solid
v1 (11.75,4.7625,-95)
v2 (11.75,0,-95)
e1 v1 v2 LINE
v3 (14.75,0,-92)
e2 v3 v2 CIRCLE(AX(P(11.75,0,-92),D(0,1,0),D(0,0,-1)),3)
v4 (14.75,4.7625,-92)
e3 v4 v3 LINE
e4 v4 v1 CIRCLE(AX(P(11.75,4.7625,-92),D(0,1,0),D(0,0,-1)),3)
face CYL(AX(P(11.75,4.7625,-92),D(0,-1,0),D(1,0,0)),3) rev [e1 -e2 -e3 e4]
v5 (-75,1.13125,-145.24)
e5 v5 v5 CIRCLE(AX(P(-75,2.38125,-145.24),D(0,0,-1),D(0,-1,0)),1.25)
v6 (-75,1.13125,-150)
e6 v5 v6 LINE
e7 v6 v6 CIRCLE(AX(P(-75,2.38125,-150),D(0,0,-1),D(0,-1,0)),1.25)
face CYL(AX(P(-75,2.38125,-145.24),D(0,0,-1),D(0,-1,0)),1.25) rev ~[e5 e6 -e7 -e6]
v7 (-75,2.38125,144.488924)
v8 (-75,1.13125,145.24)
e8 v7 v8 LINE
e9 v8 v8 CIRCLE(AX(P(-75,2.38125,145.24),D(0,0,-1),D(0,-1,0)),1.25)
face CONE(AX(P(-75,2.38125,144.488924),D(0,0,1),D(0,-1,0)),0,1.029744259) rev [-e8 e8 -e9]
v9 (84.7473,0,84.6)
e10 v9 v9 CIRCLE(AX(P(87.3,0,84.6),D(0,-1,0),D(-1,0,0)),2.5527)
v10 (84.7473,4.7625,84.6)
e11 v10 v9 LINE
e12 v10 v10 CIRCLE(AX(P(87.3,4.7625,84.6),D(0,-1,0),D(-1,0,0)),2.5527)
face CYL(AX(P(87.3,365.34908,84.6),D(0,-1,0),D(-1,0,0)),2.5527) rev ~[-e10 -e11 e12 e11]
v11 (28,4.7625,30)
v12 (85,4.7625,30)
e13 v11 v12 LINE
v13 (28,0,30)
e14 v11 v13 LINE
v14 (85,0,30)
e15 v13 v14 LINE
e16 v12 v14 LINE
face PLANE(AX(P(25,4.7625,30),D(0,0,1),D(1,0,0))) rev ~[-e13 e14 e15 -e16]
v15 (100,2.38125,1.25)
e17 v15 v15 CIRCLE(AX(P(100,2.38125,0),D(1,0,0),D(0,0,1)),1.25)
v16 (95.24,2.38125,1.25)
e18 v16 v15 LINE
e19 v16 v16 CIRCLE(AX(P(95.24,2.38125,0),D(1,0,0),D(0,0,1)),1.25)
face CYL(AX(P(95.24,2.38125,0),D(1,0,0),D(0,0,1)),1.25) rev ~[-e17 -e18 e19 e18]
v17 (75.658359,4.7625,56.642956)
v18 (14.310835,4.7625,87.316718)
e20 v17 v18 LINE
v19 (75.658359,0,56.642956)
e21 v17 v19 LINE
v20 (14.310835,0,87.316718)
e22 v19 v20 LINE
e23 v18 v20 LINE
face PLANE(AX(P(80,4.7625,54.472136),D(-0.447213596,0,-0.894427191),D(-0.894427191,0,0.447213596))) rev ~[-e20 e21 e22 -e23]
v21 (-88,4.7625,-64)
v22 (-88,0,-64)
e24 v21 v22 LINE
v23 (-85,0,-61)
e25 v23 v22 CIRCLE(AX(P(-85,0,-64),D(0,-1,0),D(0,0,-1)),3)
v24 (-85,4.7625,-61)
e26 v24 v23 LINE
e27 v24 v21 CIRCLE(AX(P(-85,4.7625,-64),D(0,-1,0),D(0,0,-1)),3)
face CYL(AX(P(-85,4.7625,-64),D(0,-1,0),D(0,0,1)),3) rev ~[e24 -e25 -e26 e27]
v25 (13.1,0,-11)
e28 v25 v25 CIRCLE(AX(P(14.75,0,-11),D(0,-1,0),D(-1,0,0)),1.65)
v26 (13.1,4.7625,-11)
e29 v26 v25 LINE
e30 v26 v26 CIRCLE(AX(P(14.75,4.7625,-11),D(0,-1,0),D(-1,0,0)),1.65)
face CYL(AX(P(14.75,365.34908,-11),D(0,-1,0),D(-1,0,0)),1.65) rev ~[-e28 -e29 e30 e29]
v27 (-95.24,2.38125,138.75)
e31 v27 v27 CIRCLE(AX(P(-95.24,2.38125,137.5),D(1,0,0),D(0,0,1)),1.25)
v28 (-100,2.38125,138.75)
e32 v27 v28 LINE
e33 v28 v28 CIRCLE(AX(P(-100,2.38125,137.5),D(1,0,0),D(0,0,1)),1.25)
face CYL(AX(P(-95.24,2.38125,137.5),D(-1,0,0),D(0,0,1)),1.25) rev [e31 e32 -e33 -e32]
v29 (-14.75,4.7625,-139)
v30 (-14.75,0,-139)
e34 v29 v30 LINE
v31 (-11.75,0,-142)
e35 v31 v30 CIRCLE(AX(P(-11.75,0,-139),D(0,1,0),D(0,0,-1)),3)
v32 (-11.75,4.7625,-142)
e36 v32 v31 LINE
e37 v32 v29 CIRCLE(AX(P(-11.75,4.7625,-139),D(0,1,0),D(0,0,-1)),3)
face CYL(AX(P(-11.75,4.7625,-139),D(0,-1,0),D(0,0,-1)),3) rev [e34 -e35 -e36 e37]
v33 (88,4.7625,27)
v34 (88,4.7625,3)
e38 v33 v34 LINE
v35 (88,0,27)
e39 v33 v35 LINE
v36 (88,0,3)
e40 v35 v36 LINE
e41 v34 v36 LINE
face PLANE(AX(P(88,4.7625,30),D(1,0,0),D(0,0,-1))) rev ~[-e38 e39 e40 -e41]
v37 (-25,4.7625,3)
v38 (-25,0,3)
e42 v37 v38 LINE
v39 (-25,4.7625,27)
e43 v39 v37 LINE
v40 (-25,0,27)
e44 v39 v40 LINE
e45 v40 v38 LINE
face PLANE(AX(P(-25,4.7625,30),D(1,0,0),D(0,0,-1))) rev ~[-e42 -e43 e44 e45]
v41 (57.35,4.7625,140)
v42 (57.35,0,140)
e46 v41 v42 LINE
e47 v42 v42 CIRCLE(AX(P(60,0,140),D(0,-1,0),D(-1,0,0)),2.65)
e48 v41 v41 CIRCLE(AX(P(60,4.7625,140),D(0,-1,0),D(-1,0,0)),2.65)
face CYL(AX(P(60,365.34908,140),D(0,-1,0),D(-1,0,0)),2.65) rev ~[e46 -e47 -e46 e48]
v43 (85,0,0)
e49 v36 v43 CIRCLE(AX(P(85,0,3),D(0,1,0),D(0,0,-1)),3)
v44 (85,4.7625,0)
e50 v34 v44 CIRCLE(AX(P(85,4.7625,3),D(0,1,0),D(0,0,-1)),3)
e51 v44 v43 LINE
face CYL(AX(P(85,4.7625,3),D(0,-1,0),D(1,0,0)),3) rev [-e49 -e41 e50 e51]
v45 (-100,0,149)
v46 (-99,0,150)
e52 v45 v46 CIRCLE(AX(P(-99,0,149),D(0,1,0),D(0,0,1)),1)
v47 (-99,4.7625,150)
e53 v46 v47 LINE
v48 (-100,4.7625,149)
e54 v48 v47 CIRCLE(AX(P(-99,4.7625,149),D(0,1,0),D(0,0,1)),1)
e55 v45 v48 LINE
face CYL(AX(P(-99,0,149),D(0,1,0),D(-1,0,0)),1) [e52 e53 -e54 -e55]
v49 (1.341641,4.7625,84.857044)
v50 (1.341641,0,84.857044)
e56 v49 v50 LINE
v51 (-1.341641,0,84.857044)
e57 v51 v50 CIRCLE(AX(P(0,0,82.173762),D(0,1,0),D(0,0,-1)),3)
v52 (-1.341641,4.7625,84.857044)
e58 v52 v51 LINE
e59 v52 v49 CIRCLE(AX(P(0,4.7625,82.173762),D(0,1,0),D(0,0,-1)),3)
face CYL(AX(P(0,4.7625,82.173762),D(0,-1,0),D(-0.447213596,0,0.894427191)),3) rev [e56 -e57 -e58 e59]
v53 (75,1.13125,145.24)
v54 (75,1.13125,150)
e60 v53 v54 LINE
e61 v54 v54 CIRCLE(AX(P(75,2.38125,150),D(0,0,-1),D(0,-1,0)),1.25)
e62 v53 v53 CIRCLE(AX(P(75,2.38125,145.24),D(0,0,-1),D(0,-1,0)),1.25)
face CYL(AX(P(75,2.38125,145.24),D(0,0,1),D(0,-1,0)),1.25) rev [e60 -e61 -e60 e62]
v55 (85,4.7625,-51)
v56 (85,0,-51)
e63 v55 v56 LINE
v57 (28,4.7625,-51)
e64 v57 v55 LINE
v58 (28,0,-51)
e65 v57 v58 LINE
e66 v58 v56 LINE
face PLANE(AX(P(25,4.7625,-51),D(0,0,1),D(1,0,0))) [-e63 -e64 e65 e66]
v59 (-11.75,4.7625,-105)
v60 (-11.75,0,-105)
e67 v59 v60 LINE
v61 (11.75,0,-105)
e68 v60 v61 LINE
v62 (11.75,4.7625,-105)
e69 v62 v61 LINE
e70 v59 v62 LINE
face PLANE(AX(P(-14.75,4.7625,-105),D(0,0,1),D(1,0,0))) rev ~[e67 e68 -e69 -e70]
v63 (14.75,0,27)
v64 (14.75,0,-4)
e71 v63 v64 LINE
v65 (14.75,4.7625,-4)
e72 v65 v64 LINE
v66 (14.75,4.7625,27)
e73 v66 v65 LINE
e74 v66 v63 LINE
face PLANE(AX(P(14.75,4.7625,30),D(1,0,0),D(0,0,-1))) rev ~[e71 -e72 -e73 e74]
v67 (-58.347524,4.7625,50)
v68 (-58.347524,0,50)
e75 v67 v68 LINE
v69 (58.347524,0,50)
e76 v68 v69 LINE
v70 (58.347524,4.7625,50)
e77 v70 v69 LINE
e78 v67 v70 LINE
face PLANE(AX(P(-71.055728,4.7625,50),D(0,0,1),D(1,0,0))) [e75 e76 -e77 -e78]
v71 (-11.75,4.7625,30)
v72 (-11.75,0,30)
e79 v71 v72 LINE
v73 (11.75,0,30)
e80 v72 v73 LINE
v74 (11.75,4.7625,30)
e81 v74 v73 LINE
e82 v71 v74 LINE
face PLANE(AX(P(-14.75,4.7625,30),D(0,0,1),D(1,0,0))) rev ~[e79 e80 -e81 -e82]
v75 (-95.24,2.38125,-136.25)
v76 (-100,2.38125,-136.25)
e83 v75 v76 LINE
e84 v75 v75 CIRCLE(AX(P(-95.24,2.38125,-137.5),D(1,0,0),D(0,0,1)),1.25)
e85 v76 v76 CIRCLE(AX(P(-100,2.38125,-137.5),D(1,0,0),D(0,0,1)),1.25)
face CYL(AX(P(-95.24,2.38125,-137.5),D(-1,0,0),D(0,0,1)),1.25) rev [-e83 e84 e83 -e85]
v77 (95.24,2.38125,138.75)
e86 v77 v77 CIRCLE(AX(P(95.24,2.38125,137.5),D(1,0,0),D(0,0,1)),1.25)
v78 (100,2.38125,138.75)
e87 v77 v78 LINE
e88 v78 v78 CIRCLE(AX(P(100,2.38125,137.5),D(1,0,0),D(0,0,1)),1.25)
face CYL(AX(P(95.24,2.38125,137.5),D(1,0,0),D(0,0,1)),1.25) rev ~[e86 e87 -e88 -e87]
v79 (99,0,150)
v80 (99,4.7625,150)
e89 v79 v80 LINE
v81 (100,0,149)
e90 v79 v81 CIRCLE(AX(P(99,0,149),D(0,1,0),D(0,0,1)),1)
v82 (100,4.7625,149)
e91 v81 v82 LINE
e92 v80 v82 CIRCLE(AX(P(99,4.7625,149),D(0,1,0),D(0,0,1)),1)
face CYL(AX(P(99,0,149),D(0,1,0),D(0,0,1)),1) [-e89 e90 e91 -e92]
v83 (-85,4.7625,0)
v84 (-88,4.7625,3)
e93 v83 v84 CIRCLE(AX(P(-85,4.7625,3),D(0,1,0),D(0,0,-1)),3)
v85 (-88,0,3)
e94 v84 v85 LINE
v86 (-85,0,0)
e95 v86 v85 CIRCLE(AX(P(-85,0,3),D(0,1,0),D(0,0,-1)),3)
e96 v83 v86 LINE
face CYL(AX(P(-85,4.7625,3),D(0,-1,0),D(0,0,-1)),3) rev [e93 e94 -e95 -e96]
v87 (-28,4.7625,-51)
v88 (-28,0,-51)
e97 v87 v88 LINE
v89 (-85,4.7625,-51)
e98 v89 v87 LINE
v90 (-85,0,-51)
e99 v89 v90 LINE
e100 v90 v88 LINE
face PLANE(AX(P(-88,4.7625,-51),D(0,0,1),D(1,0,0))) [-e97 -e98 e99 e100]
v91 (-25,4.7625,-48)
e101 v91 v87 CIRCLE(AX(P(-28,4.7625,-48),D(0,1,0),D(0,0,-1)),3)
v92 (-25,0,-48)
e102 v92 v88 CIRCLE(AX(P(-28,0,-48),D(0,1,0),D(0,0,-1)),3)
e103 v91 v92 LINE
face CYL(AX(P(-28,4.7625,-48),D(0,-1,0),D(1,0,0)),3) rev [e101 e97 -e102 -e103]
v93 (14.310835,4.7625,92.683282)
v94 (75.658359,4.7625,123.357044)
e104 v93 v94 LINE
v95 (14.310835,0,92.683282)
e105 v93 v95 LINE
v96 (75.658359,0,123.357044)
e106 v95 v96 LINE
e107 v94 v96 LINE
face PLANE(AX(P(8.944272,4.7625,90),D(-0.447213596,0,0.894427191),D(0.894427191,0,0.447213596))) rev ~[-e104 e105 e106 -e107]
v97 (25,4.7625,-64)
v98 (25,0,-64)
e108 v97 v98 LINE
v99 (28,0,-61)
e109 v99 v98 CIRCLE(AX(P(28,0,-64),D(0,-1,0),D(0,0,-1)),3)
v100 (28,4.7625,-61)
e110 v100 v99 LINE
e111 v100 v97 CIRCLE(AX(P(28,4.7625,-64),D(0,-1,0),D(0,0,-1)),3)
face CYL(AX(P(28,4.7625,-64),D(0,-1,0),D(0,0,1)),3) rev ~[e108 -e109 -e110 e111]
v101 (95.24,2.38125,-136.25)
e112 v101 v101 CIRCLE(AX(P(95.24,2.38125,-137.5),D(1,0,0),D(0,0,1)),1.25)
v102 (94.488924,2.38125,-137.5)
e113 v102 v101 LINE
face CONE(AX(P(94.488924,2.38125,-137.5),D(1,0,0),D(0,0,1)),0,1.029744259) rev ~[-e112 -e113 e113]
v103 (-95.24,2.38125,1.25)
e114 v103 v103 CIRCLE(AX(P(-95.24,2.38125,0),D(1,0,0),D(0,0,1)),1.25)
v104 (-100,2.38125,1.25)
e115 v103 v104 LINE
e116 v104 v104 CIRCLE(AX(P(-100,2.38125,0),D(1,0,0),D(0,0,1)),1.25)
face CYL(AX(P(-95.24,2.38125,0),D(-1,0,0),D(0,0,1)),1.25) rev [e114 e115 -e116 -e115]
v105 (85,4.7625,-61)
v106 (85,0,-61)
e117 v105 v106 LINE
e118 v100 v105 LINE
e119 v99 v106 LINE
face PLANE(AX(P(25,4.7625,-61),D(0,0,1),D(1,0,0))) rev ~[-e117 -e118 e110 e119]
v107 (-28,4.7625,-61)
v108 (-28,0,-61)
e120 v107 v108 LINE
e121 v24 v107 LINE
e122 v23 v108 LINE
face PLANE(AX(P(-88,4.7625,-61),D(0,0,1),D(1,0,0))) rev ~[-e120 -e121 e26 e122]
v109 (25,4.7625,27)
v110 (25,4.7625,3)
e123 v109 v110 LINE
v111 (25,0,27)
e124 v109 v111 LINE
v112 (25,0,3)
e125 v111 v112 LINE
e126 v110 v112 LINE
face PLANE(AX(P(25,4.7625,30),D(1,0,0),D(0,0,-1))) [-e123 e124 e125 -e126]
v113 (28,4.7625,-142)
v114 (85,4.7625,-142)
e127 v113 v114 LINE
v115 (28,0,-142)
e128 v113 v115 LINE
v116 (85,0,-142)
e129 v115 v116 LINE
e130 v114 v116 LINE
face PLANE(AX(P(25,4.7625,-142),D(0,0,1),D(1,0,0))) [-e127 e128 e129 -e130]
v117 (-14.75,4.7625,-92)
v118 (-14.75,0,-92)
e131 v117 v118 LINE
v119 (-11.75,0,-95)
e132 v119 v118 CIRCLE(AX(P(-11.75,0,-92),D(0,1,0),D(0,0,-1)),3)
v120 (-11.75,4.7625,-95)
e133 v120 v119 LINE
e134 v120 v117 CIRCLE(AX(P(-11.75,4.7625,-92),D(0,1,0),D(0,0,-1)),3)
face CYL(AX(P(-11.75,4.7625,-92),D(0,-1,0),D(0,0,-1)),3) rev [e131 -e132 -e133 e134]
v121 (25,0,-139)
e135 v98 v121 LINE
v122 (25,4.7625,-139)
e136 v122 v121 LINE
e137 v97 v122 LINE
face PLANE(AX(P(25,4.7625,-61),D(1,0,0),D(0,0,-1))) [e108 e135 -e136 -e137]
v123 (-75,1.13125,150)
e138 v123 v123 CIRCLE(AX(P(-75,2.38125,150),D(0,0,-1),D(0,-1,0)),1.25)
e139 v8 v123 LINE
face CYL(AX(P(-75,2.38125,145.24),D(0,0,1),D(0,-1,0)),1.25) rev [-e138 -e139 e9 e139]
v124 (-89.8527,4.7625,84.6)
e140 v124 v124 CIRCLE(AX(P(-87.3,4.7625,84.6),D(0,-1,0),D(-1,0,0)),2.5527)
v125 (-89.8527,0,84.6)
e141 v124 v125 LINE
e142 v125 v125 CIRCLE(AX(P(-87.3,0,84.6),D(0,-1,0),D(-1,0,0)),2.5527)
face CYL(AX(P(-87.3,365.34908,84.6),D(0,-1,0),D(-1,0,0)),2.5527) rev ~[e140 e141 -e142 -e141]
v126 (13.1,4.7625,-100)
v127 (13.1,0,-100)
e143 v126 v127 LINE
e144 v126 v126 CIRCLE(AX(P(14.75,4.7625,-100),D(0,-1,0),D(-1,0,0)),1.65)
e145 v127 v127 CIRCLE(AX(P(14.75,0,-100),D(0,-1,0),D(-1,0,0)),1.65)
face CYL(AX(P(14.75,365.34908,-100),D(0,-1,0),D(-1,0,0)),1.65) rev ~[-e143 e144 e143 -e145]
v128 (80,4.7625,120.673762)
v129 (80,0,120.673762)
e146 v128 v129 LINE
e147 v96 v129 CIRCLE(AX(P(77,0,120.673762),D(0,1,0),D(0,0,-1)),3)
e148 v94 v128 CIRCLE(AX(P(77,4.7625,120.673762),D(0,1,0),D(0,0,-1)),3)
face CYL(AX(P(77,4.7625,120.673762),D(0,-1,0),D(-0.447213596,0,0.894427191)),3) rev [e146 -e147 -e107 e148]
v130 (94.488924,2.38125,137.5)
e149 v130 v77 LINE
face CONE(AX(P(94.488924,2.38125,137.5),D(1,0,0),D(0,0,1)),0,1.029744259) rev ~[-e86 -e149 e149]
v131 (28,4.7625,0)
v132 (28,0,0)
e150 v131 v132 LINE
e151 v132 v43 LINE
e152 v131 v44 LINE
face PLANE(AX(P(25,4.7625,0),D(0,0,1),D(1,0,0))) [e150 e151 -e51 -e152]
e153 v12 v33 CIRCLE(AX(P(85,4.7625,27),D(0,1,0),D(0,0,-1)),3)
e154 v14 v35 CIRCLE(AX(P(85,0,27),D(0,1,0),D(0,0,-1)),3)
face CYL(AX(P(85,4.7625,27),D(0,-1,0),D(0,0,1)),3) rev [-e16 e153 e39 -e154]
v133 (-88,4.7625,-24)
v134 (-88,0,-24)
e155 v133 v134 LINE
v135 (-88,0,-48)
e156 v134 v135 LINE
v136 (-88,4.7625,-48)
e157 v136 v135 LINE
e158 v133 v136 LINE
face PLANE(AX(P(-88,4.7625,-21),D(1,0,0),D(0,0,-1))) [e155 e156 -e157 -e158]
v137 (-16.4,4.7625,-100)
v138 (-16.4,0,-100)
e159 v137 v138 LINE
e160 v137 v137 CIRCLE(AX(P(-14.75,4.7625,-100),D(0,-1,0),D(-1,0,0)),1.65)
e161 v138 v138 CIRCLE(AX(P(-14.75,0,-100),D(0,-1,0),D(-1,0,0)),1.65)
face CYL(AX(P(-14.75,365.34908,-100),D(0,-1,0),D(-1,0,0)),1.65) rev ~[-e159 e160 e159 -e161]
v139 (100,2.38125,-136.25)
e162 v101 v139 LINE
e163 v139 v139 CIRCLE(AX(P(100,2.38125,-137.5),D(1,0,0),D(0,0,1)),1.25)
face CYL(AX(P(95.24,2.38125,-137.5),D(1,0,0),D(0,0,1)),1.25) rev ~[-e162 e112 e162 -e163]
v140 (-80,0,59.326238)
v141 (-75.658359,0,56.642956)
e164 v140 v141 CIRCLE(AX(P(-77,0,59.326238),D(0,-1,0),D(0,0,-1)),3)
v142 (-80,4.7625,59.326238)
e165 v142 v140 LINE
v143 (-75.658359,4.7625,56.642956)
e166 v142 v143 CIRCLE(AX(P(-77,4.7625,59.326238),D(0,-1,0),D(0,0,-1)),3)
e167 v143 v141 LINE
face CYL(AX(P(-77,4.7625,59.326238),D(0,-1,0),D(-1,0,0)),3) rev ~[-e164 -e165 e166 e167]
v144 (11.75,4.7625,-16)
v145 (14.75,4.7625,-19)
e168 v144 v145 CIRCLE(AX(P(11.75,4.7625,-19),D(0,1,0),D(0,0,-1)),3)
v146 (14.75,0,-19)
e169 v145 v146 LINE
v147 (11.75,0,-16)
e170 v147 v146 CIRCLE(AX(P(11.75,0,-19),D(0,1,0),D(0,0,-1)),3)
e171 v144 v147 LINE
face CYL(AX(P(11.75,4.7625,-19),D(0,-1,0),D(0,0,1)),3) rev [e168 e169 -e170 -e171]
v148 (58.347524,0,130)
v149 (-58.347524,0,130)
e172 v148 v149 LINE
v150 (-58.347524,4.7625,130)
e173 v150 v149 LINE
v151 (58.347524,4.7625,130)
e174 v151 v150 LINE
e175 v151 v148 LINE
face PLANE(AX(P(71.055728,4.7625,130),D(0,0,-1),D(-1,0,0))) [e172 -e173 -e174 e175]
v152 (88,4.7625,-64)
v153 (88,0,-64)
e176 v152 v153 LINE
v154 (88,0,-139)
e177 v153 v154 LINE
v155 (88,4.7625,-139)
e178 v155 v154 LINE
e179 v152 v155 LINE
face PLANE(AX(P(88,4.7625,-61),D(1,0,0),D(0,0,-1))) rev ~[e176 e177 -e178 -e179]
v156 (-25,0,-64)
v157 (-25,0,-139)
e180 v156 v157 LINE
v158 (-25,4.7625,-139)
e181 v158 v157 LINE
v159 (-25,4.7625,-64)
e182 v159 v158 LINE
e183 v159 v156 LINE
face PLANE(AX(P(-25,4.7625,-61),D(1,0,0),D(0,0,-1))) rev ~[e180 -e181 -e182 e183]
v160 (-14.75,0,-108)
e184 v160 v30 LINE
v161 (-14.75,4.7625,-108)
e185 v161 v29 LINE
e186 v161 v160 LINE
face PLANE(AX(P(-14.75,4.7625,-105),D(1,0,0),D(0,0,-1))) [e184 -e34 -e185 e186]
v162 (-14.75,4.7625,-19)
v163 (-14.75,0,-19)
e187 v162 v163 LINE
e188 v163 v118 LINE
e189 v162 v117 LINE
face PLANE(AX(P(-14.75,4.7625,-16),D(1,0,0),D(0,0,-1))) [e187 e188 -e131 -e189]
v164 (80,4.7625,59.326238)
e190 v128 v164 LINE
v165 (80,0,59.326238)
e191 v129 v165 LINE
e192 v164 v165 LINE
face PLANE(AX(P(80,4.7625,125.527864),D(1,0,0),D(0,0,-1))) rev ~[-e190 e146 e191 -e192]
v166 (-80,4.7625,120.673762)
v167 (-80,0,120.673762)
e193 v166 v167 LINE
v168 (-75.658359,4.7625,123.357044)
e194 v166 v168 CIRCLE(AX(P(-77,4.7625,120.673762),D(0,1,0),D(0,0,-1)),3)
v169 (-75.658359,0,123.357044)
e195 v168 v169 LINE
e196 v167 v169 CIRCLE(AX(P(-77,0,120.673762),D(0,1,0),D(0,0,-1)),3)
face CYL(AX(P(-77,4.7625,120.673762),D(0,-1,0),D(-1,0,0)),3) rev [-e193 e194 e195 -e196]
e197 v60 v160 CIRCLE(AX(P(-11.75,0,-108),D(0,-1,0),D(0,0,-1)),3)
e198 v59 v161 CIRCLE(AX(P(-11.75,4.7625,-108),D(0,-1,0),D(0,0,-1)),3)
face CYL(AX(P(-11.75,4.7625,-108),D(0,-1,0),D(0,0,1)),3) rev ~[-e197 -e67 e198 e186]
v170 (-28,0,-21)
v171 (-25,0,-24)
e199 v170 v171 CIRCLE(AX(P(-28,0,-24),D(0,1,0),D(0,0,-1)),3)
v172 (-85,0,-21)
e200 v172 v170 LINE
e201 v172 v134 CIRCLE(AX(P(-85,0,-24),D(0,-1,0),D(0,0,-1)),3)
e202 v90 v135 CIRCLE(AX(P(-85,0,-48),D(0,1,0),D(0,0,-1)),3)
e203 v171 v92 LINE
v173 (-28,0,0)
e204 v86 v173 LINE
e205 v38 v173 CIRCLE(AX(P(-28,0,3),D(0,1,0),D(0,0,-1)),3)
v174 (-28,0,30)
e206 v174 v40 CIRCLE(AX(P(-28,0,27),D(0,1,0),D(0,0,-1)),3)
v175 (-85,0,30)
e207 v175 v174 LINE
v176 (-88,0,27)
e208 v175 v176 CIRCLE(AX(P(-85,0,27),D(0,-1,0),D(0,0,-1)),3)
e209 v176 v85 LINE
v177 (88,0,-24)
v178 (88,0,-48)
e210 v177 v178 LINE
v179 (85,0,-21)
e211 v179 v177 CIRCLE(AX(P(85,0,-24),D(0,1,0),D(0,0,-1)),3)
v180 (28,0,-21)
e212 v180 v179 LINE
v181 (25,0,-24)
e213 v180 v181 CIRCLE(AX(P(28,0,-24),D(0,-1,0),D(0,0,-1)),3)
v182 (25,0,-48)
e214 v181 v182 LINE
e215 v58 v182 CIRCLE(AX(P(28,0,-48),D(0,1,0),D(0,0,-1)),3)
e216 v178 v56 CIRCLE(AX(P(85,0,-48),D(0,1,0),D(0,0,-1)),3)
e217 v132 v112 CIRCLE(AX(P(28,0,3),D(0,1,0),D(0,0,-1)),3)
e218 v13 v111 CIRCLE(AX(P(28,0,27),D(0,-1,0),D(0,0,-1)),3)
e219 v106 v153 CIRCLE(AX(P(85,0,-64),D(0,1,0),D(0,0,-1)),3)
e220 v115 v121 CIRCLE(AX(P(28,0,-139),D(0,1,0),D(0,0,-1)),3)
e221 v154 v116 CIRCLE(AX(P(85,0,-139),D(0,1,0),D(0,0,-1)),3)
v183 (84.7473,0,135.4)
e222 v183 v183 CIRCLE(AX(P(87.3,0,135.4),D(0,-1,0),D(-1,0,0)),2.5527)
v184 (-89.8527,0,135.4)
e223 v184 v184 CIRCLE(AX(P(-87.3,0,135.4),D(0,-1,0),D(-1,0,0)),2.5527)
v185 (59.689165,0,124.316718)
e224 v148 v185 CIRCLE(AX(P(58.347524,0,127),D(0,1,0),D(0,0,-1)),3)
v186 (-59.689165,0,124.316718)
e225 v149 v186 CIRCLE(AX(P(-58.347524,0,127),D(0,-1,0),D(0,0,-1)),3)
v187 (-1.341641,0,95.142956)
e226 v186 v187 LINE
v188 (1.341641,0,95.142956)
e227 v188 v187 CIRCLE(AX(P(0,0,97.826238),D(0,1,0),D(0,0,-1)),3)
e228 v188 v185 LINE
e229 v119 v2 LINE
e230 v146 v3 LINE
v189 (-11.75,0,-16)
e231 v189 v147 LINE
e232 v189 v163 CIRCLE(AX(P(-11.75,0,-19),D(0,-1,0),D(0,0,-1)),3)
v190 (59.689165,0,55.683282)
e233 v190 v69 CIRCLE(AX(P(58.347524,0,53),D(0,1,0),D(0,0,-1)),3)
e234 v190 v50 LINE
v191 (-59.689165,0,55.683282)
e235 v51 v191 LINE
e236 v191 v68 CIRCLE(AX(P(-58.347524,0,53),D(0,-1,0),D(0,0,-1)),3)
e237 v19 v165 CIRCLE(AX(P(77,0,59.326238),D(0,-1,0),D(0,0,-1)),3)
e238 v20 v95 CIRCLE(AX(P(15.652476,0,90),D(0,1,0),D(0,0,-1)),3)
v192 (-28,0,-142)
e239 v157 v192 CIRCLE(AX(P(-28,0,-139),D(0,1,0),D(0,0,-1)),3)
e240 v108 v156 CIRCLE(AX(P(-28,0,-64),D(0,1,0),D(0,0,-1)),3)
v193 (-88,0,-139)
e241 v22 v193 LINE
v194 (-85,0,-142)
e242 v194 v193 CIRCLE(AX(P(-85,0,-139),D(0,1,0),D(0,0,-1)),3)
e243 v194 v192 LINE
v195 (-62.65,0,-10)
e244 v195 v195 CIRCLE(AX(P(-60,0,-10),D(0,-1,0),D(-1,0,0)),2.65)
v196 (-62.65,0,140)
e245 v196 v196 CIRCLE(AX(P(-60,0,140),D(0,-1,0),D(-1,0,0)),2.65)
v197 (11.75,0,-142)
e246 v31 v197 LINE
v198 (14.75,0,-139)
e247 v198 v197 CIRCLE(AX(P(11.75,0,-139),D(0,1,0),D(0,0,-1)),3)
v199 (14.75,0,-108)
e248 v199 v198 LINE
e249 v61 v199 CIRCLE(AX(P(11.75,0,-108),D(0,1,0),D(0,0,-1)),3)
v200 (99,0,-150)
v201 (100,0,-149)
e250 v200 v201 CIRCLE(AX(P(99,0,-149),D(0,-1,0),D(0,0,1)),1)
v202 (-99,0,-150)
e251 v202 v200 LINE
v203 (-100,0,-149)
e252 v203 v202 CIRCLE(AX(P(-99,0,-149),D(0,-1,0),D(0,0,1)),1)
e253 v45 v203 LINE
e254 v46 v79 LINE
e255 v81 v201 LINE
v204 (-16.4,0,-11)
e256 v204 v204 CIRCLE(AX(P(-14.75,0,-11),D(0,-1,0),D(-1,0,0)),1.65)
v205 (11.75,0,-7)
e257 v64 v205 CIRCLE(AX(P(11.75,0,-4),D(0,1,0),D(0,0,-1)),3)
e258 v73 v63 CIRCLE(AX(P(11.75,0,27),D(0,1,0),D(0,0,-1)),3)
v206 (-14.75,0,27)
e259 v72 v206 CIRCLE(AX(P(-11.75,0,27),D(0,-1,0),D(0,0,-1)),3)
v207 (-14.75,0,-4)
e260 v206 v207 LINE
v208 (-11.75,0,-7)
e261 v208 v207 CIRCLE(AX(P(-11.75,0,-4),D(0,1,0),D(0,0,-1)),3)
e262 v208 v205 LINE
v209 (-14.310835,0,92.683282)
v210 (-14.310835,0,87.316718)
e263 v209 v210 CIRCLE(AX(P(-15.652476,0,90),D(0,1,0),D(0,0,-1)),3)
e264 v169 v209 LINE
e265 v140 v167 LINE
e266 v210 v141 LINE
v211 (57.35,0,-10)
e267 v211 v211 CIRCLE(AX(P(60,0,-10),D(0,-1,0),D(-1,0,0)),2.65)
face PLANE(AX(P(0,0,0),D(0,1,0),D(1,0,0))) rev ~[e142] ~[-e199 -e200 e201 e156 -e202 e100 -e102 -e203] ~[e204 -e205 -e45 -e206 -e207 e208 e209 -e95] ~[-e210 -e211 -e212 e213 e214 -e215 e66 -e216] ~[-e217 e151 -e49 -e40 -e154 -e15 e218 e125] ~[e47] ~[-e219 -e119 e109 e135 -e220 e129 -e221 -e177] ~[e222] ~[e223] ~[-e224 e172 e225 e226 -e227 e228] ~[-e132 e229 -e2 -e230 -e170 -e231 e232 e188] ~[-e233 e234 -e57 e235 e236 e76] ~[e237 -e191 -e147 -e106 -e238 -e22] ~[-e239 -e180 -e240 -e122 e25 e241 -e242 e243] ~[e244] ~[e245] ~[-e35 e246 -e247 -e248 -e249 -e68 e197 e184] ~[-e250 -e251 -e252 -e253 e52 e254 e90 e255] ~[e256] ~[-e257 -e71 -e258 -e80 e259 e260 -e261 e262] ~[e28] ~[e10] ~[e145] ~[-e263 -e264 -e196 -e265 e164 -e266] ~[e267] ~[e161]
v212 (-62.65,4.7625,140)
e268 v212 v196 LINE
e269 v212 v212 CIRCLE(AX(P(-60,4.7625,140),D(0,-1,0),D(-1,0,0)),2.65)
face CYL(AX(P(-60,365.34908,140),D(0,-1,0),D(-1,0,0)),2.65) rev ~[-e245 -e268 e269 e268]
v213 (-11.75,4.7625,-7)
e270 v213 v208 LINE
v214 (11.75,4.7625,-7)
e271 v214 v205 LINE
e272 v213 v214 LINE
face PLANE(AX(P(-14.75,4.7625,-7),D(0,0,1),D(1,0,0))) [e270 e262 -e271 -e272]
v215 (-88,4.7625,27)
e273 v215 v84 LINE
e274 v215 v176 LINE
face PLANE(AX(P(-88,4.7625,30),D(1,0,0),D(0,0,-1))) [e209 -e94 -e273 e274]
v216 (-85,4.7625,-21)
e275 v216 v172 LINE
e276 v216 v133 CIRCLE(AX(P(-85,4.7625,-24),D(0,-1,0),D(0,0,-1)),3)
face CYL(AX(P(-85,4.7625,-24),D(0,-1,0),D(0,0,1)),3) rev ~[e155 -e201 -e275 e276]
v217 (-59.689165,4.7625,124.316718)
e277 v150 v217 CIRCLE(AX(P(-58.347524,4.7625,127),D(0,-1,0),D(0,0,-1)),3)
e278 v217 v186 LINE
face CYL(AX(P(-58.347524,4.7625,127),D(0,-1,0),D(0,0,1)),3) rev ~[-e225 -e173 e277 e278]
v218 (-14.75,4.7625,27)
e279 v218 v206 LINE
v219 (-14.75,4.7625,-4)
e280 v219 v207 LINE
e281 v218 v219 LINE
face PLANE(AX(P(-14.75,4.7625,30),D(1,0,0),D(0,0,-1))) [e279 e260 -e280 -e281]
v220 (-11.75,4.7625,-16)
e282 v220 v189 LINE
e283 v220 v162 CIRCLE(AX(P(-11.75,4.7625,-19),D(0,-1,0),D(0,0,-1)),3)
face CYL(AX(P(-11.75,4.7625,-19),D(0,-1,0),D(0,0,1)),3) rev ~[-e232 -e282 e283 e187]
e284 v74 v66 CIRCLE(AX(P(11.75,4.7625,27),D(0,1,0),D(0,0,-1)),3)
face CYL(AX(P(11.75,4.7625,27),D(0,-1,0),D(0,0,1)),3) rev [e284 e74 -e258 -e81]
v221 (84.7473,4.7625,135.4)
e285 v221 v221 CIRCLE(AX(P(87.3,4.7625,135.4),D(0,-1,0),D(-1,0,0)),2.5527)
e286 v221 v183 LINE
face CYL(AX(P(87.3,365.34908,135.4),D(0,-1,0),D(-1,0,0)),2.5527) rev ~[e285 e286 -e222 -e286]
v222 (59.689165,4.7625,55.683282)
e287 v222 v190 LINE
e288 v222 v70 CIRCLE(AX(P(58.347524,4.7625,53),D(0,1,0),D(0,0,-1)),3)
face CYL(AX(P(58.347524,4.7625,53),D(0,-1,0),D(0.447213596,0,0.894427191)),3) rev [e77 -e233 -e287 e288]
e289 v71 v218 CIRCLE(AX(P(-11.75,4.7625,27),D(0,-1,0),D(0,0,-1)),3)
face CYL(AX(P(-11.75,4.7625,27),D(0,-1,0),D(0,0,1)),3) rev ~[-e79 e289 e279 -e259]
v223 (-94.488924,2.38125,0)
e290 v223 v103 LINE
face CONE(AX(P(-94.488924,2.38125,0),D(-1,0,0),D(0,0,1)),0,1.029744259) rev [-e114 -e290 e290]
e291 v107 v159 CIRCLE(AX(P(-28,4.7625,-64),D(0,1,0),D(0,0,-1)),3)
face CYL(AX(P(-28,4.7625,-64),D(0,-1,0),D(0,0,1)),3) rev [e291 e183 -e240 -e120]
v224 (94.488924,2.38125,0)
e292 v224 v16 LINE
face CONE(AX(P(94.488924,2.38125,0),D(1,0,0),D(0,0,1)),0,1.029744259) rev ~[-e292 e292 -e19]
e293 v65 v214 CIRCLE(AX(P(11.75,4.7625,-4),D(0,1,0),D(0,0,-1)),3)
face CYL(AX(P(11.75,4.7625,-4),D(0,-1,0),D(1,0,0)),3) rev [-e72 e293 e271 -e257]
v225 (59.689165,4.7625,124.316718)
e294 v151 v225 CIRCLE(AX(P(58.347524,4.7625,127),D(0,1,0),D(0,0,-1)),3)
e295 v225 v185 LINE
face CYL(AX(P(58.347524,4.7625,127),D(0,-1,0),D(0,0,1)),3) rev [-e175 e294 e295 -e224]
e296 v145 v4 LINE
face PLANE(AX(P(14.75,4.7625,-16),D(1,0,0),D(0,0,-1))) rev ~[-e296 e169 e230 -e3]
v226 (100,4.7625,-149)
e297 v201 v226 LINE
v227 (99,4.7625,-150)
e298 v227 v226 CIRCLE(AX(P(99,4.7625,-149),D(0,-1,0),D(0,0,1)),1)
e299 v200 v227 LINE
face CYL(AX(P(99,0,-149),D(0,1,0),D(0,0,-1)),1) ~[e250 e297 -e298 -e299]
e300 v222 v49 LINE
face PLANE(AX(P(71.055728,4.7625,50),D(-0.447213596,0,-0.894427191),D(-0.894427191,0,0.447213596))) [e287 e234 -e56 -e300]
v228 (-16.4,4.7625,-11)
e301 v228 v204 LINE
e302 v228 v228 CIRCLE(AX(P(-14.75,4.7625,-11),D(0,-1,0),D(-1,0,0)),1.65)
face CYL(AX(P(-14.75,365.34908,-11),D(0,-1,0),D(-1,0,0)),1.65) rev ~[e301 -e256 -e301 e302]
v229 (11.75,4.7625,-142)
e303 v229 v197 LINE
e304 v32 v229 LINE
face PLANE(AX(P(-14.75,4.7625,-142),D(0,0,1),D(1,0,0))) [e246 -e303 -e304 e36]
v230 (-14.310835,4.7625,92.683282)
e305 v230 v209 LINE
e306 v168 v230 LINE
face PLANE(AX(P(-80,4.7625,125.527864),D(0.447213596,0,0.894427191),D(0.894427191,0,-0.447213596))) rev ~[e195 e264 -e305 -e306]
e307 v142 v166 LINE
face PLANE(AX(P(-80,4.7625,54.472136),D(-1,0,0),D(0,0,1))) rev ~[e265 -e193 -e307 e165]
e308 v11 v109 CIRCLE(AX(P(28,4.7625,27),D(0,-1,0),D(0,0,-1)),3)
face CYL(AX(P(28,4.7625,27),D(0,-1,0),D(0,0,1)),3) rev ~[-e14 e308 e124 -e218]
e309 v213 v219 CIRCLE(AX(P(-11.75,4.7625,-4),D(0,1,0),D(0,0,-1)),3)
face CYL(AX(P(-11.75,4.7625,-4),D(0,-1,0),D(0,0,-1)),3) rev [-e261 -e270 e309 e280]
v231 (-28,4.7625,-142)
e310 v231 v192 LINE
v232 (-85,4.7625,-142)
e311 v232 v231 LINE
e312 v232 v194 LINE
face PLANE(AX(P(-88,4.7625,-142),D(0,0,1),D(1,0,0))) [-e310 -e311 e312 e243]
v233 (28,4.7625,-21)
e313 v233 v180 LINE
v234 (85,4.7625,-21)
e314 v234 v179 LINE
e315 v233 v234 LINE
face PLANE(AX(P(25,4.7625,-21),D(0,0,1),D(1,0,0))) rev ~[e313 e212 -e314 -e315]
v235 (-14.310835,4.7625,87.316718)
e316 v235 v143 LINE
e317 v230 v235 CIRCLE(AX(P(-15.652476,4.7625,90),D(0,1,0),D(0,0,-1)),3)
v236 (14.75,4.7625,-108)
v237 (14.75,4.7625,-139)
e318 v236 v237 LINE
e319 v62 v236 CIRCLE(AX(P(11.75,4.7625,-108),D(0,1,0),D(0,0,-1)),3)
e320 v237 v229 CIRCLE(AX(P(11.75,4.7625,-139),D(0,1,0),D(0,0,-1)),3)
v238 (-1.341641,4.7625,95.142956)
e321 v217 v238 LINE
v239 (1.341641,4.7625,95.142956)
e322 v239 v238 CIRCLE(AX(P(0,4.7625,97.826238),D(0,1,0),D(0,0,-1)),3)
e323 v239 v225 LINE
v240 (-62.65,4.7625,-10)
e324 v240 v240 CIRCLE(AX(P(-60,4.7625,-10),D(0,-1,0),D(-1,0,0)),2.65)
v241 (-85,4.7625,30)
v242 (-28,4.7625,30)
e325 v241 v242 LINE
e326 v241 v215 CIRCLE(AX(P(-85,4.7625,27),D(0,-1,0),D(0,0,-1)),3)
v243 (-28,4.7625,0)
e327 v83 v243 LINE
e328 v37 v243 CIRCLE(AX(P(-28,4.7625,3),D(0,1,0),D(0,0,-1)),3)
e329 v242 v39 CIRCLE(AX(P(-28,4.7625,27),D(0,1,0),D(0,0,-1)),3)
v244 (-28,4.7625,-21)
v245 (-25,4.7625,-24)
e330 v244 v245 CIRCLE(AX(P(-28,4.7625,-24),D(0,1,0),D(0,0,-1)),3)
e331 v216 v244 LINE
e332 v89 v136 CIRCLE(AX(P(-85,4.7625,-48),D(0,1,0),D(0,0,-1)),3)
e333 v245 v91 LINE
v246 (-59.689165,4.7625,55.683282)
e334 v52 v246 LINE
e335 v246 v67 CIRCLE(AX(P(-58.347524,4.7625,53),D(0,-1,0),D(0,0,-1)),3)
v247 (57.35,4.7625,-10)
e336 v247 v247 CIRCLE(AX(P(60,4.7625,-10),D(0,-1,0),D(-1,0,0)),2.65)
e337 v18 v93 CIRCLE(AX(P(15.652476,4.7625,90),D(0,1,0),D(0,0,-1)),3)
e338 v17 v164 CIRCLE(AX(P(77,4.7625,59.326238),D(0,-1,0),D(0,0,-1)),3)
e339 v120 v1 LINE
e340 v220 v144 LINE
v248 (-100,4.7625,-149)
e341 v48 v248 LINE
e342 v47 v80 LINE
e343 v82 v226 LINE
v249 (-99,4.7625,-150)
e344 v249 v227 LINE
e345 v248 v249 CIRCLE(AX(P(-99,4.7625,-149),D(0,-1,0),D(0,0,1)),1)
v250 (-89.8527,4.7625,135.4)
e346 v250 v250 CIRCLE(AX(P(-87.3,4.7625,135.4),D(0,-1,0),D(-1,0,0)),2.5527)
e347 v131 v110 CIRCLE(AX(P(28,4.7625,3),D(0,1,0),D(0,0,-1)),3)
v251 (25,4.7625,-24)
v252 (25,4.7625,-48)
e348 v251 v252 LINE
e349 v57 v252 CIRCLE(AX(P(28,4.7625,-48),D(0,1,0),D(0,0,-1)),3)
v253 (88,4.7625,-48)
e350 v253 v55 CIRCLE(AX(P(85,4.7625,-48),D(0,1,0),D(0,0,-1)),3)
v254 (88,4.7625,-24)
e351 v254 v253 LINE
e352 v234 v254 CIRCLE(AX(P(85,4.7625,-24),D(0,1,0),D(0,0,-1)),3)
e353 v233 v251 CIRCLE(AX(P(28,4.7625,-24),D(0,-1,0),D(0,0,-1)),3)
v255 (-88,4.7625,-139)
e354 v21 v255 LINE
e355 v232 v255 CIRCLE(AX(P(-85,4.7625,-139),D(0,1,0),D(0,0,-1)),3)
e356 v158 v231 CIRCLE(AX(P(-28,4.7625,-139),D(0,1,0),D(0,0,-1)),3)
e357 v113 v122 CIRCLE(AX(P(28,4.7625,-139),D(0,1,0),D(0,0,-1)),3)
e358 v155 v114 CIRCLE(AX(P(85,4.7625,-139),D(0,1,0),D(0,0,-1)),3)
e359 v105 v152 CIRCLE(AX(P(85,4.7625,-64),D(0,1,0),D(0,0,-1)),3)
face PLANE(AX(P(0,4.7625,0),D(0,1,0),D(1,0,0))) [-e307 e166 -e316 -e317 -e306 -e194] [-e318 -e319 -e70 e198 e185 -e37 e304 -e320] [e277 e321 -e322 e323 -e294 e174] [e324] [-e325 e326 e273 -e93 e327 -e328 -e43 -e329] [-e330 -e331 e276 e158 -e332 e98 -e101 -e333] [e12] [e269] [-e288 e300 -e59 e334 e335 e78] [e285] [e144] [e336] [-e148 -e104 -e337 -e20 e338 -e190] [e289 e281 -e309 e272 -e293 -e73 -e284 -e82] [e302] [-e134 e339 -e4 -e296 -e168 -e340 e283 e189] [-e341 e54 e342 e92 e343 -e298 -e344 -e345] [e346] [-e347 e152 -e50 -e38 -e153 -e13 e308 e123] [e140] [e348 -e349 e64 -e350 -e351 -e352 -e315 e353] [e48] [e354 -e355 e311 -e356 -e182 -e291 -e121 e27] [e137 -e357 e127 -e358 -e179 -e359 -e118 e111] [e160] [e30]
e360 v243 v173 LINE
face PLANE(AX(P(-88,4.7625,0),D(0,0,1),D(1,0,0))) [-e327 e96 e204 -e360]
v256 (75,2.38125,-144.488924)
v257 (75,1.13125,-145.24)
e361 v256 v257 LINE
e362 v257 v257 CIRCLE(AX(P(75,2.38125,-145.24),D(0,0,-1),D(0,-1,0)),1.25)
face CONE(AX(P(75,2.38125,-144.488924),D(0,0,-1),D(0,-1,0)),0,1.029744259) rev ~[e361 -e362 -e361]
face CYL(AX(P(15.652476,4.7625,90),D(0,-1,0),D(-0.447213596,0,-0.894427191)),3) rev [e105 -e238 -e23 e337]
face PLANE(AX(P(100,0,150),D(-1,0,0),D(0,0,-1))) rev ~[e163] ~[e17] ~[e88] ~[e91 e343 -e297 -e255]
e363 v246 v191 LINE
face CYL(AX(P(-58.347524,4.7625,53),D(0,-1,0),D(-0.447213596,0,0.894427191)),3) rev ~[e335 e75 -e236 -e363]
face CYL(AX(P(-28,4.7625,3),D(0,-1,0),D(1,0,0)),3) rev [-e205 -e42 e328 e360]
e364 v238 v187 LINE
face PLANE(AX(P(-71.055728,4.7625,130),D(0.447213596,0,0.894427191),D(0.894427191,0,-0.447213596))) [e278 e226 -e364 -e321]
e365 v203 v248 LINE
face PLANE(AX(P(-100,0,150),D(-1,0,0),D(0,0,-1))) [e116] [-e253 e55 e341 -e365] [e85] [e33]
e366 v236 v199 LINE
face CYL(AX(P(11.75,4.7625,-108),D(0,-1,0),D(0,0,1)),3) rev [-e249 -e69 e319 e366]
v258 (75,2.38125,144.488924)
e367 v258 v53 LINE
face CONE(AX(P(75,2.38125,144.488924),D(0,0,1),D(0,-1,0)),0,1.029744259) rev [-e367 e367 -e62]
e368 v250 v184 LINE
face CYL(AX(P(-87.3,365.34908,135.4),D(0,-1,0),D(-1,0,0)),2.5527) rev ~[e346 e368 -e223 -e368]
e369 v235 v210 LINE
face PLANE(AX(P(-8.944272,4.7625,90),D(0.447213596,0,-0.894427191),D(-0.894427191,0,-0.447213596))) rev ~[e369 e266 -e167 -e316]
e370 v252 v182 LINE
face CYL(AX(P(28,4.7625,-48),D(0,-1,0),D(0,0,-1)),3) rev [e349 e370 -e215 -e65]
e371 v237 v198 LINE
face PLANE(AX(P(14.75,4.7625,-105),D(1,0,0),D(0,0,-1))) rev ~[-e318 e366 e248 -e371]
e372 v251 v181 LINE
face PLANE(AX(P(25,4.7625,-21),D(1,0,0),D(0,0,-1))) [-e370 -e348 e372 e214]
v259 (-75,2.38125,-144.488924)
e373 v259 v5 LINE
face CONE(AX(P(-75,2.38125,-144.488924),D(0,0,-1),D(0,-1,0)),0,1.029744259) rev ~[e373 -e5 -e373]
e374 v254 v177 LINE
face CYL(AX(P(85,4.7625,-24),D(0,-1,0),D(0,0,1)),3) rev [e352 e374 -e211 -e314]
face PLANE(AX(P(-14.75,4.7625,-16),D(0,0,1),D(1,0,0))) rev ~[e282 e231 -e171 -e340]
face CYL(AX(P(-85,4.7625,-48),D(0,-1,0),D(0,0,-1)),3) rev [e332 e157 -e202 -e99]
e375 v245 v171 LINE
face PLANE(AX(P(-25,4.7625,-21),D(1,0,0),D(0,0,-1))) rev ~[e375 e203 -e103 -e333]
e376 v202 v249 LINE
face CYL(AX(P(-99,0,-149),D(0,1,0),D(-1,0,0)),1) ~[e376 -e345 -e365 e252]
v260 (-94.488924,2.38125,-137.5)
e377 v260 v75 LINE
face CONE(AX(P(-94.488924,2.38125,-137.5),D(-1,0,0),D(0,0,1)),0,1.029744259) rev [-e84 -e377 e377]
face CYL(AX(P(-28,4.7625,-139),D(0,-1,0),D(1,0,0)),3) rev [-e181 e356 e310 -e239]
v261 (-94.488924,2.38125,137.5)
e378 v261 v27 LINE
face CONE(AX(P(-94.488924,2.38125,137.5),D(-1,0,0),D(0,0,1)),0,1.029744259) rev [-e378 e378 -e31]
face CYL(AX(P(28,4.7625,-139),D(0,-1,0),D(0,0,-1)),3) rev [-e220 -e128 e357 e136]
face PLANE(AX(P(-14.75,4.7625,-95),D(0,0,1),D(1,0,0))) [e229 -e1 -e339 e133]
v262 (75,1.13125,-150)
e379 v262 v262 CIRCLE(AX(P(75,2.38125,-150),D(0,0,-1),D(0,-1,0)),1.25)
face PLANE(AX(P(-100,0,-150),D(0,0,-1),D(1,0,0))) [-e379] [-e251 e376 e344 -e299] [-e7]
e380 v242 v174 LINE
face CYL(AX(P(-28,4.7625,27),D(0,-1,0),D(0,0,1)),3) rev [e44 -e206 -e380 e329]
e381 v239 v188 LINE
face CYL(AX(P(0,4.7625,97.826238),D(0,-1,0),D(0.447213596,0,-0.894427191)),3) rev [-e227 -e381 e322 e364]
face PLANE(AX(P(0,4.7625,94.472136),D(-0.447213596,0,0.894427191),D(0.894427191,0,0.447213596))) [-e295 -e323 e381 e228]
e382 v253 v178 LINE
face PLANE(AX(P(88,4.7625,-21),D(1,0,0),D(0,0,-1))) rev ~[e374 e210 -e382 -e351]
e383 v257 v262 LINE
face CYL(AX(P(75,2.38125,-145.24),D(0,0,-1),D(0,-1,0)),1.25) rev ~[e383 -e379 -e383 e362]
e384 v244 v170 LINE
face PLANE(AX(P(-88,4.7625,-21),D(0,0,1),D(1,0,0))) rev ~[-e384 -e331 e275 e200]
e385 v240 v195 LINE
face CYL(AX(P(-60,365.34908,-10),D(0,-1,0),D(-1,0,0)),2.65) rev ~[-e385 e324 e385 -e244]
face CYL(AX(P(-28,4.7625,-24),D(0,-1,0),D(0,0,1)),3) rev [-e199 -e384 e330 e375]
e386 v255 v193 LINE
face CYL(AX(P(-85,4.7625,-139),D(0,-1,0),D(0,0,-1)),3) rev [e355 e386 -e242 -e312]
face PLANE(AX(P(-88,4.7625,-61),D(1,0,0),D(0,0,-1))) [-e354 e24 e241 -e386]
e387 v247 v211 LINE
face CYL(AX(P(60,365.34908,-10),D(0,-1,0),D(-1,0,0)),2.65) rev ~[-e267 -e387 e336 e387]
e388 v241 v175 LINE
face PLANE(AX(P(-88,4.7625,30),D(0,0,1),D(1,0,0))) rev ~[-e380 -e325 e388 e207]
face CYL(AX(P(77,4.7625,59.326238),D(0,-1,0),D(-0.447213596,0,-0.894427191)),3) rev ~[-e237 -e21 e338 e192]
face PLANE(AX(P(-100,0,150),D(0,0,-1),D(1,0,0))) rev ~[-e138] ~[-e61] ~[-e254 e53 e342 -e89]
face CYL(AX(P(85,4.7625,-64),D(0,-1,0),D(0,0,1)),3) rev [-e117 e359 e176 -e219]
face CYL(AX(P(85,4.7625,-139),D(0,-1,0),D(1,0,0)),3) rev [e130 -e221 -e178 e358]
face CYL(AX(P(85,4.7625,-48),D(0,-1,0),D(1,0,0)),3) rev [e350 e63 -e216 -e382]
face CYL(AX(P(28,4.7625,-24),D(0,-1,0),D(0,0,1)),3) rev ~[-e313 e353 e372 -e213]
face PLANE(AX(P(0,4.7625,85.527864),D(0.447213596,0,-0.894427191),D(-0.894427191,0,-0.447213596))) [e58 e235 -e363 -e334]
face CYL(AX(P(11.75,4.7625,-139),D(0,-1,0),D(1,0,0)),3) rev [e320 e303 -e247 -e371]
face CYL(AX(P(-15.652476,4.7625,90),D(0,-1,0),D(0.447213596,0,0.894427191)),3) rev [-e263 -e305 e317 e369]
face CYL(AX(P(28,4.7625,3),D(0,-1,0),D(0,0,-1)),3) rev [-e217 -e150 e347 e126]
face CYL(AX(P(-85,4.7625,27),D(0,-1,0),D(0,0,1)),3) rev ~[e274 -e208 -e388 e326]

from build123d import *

# Parameters (mm, degrees)
SKETCH1_W                            = 200
SKETCH1_H                            = 300
BOSS_EXTRUDE1_DEPTH                  = 4.7625
F_1_4_20_TAPPED_HOLE1_D              = 5.1054
M4X0_7_TAPPED_HOLE1_D                = 3.3
M5_CLEARANCE_HOLE1_D                 = 5.3
SKETCH9_W                            = 63
SKETCH9_H                            = 81
SKETCH9_W_2                          = 29.5
SKETCH9_H_2                          = 79
SKETCH9_H_3                          = 37
SKETCH9_H_4                          = 30
CUT_EXTRUDE1_DEPTH                   = 181.340459704
TAP_DRILL_FOR_M3X0_5_TAP1_AT_2_COUNT = 2
TAP_DRILL_FOR_M3X0_5_TAP1_AT_2_PITCH = 150
TAP_DRILL_FOR_M3X0_5_TAP2_AT_2_COUNT = 2
TAP_DRILL_FOR_M3X0_5_TAP2_AT_2_PITCH = 275
TAP_DRILL_FOR_M3X0_5_TAP2_AT_3_COUNT = 2
TAP_DRILL_FOR_M3X0_5_TAP2_AT_3_PITCH = 137.5
FILLET1_R                            = 3
FILLET2_R                            = 1


with BuildPart() as part:
    # Sketch1 → Boss-Extrude1 (new body)
    with BuildSketch(Plane(origin=(0, 0, 0), x_dir=(1, 0, 0), z_dir=(0, 1, 0))):
        Rectangle(SKETCH1_W, SKETCH1_H)
    extrude(amount=BOSS_EXTRUDE1_DEPTH)

    # 1/4-20 Tapped Hole1 (through all)
    with Locations(Plane(origin=(0, 4.7625, 0), x_dir=(1, 0, 0), z_dir=(0, 1, 0))):
        with Locations((-87.3, -84.6), (-87.3, -135.4), (87.3, -135.4), (87.3, -84.6)):
            Hole(F_1_4_20_TAPPED_HOLE1_D / 2)

    # M4x0.7 Tapped Hole1 (through all)
    with Locations(Plane(origin=(0, 4.7625, 0), x_dir=(1, 0, 0), z_dir=(0, 1, 0))):
        with Locations((-14.75, 11), (14.75, 11), (14.75, 100), (-14.75, 100)):
            Hole(M4X0_7_TAPPED_HOLE1_D / 2)

    # M5 Clearance Hole1 (through all)
    with Locations(Plane(origin=(0, 4.7625, 0), x_dir=(1, 0, 0), z_dir=(0, 1, 0))):
        with Locations((-60, 10), (-60, -140), (60, -140), (60, 10)):
            Hole(M5_CLEARANCE_HOLE1_D / 2)

    # Sketch9 → Cut-Extrude1 (cut, through all)
    with BuildSketch(Plane(origin=(0, 4.7625, 0), x_dir=(1, 0, 0), z_dir=(0, 1, 0))):
        Polygon((-80, -54.472135955), (-80, -125.527864045), (-8.94427191, -90), align=None)
        Polygon((-71.05572809, -50), (71.05572809, -50), (0, -85.527864045), align=None)
        Polygon((80, -54.472135955), (8.94427191, -90), (80, -125.527864045), align=None)
        Polygon((-71.05572809, -130), (0, -94.472135955), (71.05572809, -130), align=None)
        with Locations((-56.5, 101.5)):
            Rectangle(SKETCH9_W, SKETCH9_H)
        with Locations((56.5, 101.5)):
            Rectangle(SKETCH9_W, SKETCH9_H)
        with Locations((0, 55.5)):
            Rectangle(SKETCH9_W_2, SKETCH9_H_2)
        with Locations((0, 123.5)):
            Rectangle(SKETCH9_W_2, SKETCH9_H_3)
        with Locations((0, -11.5)):
            Rectangle(SKETCH9_W_2, SKETCH9_H_3)
        with Locations((-56.5, 36)):
            Rectangle(SKETCH9_W, SKETCH9_H_4)
        with Locations((-56.5, -15)):
            Rectangle(SKETCH9_W, SKETCH9_H_4)
        with Locations((56.5, -15)):
            Rectangle(SKETCH9_W, SKETCH9_H_4)
        with Locations((56.5, 36)):
            Rectangle(SKETCH9_W, SKETCH9_H_4)
    extrude(amount=-CUT_EXTRUDE1_DEPTH, mode=Mode.SUBTRACT)

    # Sketch12 → Tap Drill for M3x0.5 Tap1 (revolve, cut)
    with BuildSketch(Plane(origin=(-75, 2.38125, 150), x_dir=(0, -1, 0), z_dir=(1, 0, 0))):
        Polygon((0, 0), (0, 5.511075774), (1.25, 4.76), (1.25, 0), align=None)
    tap_drill_for_m3x0_5_tap1 = revolve(axis=Axis((-75, 2.38125, 156.35), (0, 0, -1)), mode=Mode.SUBTRACT)

    # Tap Drill for M3x0.5 Tap1 at 2: Tap Drill for M3x0.5 Tap1 ×2
    with Locations(*[(i * TAP_DRILL_FOR_M3X0_5_TAP1_AT_2_PITCH, 0, 0) for i in range(1, TAP_DRILL_FOR_M3X0_5_TAP1_AT_2_COUNT)]):
        add(tap_drill_for_m3x0_5_tap1, mode=Mode.SUBTRACT)

    # Mirror1: Tap Drill for M3x0.5 Tap1 across plane
    add(tap_drill_for_m3x0_5_tap1.mirror(Plane.XY), mode=Mode.SUBTRACT)

    # Mirror1 copy 1 sketch → Mirror1 copy 1 (revolve, cut)
    with BuildSketch(Plane(origin=(75, 2.38125, -150), x_dir=(0, -1, 0), z_dir=(1, 0, 0))):
        Polygon((0, 0), (0, -5.511075774), (1.25, -4.76), (1.25, 0), align=None)
    revolve(axis=Axis((75, 2.38125, -156.35), (0, 0, -1)), mode=Mode.SUBTRACT)

    # Sketch15 → Tap Drill for M3x0.5 Tap2 (revolve, cut)
    with BuildSketch(Plane(origin=(-100, 2.38125, -137.5), x_dir=(0, 0, 1), z_dir=(0, 1, 0))):
        Polygon((0, 0), (0, 5.511075774), (1.25, 4.76), (1.25, 0), align=None)
    tap_drill_for_m3x0_5_tap2 = revolve(axis=Axis((-106.35, 2.38125, -137.5), (1, 0, 0)), mode=Mode.SUBTRACT)

    # Tap Drill for M3x0.5 Tap2 at 2: Tap Drill for M3x0.5 Tap2 ×2
    with Locations(*[(0, 0, i * TAP_DRILL_FOR_M3X0_5_TAP2_AT_2_PITCH) for i in range(1, TAP_DRILL_FOR_M3X0_5_TAP2_AT_2_COUNT)]):
        add(tap_drill_for_m3x0_5_tap2, mode=Mode.SUBTRACT)

    # Tap Drill for M3x0.5 Tap2 at 3: Tap Drill for M3x0.5 Tap2 ×2
    with Locations(*[(0, 0, i * TAP_DRILL_FOR_M3X0_5_TAP2_AT_3_PITCH) for i in range(1, TAP_DRILL_FOR_M3X0_5_TAP2_AT_3_COUNT)]):
        add(tap_drill_for_m3x0_5_tap2, mode=Mode.SUBTRACT)

    # Mirror2: Tap Drill for M3x0.5 Tap2 across plane
    add(tap_drill_for_m3x0_5_tap2.mirror(Plane(origin=(0, 0, 0), x_dir=(0, 0, 1), z_dir=(1, 0, 0))), mode=Mode.SUBTRACT)

    # Mirror2 copy 1 sketch → Mirror2 copy 1 (revolve, cut)
    with BuildSketch(Plane(origin=(100, 2.38125, 137.5), x_dir=(0, 0, 1), z_dir=(0, 1, 0))):
        Polygon((0, 0), (0, -5.511075774), (1.25, -4.76), (1.25, 0), align=None)
    revolve(axis=Axis((106.35, 2.38125, 137.5), (1, 0, 0)), mode=Mode.SUBTRACT)

    # Mirror2 copy 2 sketch → Mirror2 copy 2 (revolve, cut)
    with BuildSketch(Plane(origin=(100, 2.38125, 0), x_dir=(0, 0, 1), z_dir=(0, 1, 0))):
        Polygon((0, 0), (0, -5.511075774), (1.25, -4.76), (1.25, 0), align=None)
    revolve(axis=Axis((106.35, 2.38125, 0), (1, 0, 0)), mode=Mode.SUBTRACT)

    # Fillet1
    fillet1_edges = [part.edges().sort_by_distance(p)[0] for p in [
        (14.75, 2.38125, -95),
        (14.75, 2.38125, -16),
        (-14.75, 2.38125, -16),
        (-14.75, 2.38125, -95),
        (25, 2.38125, 30),
        (25, 2.38125, 0),
        (88, 2.38125, 0),
        (88, 2.38125, 30),
        (88, 2.38125, -142),
        (88, 2.38125, -61),
        (25, 2.38125, -61),
        (25, 2.38125, -142),
        (-88, 2.38125, 30),
        (-88, 2.38125, 0),
        (-25, 2.38125, 0),
        (-25, 2.38125, 30),
        (71.05572809, 2.38125, 130),
        (-71.05572809, 2.38125, 130),
        (0, 2.38125, 94.472135955),
        (80, 2.38125, 54.472135955),
        (80, 2.38125, 125.527864045),
        (8.94427191, 2.38125, 90),
        (-80, 2.38125, 54.472135955),
        (-8.94427191, 2.38125, 90),
        (-80, 2.38125, 125.527864045),
        (0, 2.38125, 85.527864045),
        (-71.05572809, 2.38125, 50),
        (71.05572809, 2.38125, 50),
        (25, 2.38125, -21),
        (25, 2.38125, -51),
        (88, 2.38125, -51),
        (88, 2.38125, -21),
        (-25, 2.38125, -51),
        (-25, 2.38125, -21),
        (-88, 2.38125, -21),
        (-88, 2.38125, -51),
        (14.75, 2.38125, -7),
        (14.75, 2.38125, 30),
        (-14.75, 2.38125, 30),
        (-14.75, 2.38125, -7),
        (14.75, 2.38125, -142),
        (14.75, 2.38125, -105),
        (-14.75, 2.38125, -105),
        (-14.75, 2.38125, -142),
        (-25, 2.38125, -142),
        (-25, 2.38125, -61),
        (-88, 2.38125, -61),
        (-88, 2.38125, -142),
    ]]
    fillet(fillet1_edges, radius=FILLET1_R)

    # Fillet2
    fillet2_edges = [part.edges().sort_by_distance(p)[0] for p in [
        (100, 2.38125, 150),
        (-100, 2.38125, 150),
        (-100, 2.38125, -150),
        (100, 2.38125, -150),
    ]]
    fillet(fillet2_edges, radius=FILLET2_R)


solid = part.part
